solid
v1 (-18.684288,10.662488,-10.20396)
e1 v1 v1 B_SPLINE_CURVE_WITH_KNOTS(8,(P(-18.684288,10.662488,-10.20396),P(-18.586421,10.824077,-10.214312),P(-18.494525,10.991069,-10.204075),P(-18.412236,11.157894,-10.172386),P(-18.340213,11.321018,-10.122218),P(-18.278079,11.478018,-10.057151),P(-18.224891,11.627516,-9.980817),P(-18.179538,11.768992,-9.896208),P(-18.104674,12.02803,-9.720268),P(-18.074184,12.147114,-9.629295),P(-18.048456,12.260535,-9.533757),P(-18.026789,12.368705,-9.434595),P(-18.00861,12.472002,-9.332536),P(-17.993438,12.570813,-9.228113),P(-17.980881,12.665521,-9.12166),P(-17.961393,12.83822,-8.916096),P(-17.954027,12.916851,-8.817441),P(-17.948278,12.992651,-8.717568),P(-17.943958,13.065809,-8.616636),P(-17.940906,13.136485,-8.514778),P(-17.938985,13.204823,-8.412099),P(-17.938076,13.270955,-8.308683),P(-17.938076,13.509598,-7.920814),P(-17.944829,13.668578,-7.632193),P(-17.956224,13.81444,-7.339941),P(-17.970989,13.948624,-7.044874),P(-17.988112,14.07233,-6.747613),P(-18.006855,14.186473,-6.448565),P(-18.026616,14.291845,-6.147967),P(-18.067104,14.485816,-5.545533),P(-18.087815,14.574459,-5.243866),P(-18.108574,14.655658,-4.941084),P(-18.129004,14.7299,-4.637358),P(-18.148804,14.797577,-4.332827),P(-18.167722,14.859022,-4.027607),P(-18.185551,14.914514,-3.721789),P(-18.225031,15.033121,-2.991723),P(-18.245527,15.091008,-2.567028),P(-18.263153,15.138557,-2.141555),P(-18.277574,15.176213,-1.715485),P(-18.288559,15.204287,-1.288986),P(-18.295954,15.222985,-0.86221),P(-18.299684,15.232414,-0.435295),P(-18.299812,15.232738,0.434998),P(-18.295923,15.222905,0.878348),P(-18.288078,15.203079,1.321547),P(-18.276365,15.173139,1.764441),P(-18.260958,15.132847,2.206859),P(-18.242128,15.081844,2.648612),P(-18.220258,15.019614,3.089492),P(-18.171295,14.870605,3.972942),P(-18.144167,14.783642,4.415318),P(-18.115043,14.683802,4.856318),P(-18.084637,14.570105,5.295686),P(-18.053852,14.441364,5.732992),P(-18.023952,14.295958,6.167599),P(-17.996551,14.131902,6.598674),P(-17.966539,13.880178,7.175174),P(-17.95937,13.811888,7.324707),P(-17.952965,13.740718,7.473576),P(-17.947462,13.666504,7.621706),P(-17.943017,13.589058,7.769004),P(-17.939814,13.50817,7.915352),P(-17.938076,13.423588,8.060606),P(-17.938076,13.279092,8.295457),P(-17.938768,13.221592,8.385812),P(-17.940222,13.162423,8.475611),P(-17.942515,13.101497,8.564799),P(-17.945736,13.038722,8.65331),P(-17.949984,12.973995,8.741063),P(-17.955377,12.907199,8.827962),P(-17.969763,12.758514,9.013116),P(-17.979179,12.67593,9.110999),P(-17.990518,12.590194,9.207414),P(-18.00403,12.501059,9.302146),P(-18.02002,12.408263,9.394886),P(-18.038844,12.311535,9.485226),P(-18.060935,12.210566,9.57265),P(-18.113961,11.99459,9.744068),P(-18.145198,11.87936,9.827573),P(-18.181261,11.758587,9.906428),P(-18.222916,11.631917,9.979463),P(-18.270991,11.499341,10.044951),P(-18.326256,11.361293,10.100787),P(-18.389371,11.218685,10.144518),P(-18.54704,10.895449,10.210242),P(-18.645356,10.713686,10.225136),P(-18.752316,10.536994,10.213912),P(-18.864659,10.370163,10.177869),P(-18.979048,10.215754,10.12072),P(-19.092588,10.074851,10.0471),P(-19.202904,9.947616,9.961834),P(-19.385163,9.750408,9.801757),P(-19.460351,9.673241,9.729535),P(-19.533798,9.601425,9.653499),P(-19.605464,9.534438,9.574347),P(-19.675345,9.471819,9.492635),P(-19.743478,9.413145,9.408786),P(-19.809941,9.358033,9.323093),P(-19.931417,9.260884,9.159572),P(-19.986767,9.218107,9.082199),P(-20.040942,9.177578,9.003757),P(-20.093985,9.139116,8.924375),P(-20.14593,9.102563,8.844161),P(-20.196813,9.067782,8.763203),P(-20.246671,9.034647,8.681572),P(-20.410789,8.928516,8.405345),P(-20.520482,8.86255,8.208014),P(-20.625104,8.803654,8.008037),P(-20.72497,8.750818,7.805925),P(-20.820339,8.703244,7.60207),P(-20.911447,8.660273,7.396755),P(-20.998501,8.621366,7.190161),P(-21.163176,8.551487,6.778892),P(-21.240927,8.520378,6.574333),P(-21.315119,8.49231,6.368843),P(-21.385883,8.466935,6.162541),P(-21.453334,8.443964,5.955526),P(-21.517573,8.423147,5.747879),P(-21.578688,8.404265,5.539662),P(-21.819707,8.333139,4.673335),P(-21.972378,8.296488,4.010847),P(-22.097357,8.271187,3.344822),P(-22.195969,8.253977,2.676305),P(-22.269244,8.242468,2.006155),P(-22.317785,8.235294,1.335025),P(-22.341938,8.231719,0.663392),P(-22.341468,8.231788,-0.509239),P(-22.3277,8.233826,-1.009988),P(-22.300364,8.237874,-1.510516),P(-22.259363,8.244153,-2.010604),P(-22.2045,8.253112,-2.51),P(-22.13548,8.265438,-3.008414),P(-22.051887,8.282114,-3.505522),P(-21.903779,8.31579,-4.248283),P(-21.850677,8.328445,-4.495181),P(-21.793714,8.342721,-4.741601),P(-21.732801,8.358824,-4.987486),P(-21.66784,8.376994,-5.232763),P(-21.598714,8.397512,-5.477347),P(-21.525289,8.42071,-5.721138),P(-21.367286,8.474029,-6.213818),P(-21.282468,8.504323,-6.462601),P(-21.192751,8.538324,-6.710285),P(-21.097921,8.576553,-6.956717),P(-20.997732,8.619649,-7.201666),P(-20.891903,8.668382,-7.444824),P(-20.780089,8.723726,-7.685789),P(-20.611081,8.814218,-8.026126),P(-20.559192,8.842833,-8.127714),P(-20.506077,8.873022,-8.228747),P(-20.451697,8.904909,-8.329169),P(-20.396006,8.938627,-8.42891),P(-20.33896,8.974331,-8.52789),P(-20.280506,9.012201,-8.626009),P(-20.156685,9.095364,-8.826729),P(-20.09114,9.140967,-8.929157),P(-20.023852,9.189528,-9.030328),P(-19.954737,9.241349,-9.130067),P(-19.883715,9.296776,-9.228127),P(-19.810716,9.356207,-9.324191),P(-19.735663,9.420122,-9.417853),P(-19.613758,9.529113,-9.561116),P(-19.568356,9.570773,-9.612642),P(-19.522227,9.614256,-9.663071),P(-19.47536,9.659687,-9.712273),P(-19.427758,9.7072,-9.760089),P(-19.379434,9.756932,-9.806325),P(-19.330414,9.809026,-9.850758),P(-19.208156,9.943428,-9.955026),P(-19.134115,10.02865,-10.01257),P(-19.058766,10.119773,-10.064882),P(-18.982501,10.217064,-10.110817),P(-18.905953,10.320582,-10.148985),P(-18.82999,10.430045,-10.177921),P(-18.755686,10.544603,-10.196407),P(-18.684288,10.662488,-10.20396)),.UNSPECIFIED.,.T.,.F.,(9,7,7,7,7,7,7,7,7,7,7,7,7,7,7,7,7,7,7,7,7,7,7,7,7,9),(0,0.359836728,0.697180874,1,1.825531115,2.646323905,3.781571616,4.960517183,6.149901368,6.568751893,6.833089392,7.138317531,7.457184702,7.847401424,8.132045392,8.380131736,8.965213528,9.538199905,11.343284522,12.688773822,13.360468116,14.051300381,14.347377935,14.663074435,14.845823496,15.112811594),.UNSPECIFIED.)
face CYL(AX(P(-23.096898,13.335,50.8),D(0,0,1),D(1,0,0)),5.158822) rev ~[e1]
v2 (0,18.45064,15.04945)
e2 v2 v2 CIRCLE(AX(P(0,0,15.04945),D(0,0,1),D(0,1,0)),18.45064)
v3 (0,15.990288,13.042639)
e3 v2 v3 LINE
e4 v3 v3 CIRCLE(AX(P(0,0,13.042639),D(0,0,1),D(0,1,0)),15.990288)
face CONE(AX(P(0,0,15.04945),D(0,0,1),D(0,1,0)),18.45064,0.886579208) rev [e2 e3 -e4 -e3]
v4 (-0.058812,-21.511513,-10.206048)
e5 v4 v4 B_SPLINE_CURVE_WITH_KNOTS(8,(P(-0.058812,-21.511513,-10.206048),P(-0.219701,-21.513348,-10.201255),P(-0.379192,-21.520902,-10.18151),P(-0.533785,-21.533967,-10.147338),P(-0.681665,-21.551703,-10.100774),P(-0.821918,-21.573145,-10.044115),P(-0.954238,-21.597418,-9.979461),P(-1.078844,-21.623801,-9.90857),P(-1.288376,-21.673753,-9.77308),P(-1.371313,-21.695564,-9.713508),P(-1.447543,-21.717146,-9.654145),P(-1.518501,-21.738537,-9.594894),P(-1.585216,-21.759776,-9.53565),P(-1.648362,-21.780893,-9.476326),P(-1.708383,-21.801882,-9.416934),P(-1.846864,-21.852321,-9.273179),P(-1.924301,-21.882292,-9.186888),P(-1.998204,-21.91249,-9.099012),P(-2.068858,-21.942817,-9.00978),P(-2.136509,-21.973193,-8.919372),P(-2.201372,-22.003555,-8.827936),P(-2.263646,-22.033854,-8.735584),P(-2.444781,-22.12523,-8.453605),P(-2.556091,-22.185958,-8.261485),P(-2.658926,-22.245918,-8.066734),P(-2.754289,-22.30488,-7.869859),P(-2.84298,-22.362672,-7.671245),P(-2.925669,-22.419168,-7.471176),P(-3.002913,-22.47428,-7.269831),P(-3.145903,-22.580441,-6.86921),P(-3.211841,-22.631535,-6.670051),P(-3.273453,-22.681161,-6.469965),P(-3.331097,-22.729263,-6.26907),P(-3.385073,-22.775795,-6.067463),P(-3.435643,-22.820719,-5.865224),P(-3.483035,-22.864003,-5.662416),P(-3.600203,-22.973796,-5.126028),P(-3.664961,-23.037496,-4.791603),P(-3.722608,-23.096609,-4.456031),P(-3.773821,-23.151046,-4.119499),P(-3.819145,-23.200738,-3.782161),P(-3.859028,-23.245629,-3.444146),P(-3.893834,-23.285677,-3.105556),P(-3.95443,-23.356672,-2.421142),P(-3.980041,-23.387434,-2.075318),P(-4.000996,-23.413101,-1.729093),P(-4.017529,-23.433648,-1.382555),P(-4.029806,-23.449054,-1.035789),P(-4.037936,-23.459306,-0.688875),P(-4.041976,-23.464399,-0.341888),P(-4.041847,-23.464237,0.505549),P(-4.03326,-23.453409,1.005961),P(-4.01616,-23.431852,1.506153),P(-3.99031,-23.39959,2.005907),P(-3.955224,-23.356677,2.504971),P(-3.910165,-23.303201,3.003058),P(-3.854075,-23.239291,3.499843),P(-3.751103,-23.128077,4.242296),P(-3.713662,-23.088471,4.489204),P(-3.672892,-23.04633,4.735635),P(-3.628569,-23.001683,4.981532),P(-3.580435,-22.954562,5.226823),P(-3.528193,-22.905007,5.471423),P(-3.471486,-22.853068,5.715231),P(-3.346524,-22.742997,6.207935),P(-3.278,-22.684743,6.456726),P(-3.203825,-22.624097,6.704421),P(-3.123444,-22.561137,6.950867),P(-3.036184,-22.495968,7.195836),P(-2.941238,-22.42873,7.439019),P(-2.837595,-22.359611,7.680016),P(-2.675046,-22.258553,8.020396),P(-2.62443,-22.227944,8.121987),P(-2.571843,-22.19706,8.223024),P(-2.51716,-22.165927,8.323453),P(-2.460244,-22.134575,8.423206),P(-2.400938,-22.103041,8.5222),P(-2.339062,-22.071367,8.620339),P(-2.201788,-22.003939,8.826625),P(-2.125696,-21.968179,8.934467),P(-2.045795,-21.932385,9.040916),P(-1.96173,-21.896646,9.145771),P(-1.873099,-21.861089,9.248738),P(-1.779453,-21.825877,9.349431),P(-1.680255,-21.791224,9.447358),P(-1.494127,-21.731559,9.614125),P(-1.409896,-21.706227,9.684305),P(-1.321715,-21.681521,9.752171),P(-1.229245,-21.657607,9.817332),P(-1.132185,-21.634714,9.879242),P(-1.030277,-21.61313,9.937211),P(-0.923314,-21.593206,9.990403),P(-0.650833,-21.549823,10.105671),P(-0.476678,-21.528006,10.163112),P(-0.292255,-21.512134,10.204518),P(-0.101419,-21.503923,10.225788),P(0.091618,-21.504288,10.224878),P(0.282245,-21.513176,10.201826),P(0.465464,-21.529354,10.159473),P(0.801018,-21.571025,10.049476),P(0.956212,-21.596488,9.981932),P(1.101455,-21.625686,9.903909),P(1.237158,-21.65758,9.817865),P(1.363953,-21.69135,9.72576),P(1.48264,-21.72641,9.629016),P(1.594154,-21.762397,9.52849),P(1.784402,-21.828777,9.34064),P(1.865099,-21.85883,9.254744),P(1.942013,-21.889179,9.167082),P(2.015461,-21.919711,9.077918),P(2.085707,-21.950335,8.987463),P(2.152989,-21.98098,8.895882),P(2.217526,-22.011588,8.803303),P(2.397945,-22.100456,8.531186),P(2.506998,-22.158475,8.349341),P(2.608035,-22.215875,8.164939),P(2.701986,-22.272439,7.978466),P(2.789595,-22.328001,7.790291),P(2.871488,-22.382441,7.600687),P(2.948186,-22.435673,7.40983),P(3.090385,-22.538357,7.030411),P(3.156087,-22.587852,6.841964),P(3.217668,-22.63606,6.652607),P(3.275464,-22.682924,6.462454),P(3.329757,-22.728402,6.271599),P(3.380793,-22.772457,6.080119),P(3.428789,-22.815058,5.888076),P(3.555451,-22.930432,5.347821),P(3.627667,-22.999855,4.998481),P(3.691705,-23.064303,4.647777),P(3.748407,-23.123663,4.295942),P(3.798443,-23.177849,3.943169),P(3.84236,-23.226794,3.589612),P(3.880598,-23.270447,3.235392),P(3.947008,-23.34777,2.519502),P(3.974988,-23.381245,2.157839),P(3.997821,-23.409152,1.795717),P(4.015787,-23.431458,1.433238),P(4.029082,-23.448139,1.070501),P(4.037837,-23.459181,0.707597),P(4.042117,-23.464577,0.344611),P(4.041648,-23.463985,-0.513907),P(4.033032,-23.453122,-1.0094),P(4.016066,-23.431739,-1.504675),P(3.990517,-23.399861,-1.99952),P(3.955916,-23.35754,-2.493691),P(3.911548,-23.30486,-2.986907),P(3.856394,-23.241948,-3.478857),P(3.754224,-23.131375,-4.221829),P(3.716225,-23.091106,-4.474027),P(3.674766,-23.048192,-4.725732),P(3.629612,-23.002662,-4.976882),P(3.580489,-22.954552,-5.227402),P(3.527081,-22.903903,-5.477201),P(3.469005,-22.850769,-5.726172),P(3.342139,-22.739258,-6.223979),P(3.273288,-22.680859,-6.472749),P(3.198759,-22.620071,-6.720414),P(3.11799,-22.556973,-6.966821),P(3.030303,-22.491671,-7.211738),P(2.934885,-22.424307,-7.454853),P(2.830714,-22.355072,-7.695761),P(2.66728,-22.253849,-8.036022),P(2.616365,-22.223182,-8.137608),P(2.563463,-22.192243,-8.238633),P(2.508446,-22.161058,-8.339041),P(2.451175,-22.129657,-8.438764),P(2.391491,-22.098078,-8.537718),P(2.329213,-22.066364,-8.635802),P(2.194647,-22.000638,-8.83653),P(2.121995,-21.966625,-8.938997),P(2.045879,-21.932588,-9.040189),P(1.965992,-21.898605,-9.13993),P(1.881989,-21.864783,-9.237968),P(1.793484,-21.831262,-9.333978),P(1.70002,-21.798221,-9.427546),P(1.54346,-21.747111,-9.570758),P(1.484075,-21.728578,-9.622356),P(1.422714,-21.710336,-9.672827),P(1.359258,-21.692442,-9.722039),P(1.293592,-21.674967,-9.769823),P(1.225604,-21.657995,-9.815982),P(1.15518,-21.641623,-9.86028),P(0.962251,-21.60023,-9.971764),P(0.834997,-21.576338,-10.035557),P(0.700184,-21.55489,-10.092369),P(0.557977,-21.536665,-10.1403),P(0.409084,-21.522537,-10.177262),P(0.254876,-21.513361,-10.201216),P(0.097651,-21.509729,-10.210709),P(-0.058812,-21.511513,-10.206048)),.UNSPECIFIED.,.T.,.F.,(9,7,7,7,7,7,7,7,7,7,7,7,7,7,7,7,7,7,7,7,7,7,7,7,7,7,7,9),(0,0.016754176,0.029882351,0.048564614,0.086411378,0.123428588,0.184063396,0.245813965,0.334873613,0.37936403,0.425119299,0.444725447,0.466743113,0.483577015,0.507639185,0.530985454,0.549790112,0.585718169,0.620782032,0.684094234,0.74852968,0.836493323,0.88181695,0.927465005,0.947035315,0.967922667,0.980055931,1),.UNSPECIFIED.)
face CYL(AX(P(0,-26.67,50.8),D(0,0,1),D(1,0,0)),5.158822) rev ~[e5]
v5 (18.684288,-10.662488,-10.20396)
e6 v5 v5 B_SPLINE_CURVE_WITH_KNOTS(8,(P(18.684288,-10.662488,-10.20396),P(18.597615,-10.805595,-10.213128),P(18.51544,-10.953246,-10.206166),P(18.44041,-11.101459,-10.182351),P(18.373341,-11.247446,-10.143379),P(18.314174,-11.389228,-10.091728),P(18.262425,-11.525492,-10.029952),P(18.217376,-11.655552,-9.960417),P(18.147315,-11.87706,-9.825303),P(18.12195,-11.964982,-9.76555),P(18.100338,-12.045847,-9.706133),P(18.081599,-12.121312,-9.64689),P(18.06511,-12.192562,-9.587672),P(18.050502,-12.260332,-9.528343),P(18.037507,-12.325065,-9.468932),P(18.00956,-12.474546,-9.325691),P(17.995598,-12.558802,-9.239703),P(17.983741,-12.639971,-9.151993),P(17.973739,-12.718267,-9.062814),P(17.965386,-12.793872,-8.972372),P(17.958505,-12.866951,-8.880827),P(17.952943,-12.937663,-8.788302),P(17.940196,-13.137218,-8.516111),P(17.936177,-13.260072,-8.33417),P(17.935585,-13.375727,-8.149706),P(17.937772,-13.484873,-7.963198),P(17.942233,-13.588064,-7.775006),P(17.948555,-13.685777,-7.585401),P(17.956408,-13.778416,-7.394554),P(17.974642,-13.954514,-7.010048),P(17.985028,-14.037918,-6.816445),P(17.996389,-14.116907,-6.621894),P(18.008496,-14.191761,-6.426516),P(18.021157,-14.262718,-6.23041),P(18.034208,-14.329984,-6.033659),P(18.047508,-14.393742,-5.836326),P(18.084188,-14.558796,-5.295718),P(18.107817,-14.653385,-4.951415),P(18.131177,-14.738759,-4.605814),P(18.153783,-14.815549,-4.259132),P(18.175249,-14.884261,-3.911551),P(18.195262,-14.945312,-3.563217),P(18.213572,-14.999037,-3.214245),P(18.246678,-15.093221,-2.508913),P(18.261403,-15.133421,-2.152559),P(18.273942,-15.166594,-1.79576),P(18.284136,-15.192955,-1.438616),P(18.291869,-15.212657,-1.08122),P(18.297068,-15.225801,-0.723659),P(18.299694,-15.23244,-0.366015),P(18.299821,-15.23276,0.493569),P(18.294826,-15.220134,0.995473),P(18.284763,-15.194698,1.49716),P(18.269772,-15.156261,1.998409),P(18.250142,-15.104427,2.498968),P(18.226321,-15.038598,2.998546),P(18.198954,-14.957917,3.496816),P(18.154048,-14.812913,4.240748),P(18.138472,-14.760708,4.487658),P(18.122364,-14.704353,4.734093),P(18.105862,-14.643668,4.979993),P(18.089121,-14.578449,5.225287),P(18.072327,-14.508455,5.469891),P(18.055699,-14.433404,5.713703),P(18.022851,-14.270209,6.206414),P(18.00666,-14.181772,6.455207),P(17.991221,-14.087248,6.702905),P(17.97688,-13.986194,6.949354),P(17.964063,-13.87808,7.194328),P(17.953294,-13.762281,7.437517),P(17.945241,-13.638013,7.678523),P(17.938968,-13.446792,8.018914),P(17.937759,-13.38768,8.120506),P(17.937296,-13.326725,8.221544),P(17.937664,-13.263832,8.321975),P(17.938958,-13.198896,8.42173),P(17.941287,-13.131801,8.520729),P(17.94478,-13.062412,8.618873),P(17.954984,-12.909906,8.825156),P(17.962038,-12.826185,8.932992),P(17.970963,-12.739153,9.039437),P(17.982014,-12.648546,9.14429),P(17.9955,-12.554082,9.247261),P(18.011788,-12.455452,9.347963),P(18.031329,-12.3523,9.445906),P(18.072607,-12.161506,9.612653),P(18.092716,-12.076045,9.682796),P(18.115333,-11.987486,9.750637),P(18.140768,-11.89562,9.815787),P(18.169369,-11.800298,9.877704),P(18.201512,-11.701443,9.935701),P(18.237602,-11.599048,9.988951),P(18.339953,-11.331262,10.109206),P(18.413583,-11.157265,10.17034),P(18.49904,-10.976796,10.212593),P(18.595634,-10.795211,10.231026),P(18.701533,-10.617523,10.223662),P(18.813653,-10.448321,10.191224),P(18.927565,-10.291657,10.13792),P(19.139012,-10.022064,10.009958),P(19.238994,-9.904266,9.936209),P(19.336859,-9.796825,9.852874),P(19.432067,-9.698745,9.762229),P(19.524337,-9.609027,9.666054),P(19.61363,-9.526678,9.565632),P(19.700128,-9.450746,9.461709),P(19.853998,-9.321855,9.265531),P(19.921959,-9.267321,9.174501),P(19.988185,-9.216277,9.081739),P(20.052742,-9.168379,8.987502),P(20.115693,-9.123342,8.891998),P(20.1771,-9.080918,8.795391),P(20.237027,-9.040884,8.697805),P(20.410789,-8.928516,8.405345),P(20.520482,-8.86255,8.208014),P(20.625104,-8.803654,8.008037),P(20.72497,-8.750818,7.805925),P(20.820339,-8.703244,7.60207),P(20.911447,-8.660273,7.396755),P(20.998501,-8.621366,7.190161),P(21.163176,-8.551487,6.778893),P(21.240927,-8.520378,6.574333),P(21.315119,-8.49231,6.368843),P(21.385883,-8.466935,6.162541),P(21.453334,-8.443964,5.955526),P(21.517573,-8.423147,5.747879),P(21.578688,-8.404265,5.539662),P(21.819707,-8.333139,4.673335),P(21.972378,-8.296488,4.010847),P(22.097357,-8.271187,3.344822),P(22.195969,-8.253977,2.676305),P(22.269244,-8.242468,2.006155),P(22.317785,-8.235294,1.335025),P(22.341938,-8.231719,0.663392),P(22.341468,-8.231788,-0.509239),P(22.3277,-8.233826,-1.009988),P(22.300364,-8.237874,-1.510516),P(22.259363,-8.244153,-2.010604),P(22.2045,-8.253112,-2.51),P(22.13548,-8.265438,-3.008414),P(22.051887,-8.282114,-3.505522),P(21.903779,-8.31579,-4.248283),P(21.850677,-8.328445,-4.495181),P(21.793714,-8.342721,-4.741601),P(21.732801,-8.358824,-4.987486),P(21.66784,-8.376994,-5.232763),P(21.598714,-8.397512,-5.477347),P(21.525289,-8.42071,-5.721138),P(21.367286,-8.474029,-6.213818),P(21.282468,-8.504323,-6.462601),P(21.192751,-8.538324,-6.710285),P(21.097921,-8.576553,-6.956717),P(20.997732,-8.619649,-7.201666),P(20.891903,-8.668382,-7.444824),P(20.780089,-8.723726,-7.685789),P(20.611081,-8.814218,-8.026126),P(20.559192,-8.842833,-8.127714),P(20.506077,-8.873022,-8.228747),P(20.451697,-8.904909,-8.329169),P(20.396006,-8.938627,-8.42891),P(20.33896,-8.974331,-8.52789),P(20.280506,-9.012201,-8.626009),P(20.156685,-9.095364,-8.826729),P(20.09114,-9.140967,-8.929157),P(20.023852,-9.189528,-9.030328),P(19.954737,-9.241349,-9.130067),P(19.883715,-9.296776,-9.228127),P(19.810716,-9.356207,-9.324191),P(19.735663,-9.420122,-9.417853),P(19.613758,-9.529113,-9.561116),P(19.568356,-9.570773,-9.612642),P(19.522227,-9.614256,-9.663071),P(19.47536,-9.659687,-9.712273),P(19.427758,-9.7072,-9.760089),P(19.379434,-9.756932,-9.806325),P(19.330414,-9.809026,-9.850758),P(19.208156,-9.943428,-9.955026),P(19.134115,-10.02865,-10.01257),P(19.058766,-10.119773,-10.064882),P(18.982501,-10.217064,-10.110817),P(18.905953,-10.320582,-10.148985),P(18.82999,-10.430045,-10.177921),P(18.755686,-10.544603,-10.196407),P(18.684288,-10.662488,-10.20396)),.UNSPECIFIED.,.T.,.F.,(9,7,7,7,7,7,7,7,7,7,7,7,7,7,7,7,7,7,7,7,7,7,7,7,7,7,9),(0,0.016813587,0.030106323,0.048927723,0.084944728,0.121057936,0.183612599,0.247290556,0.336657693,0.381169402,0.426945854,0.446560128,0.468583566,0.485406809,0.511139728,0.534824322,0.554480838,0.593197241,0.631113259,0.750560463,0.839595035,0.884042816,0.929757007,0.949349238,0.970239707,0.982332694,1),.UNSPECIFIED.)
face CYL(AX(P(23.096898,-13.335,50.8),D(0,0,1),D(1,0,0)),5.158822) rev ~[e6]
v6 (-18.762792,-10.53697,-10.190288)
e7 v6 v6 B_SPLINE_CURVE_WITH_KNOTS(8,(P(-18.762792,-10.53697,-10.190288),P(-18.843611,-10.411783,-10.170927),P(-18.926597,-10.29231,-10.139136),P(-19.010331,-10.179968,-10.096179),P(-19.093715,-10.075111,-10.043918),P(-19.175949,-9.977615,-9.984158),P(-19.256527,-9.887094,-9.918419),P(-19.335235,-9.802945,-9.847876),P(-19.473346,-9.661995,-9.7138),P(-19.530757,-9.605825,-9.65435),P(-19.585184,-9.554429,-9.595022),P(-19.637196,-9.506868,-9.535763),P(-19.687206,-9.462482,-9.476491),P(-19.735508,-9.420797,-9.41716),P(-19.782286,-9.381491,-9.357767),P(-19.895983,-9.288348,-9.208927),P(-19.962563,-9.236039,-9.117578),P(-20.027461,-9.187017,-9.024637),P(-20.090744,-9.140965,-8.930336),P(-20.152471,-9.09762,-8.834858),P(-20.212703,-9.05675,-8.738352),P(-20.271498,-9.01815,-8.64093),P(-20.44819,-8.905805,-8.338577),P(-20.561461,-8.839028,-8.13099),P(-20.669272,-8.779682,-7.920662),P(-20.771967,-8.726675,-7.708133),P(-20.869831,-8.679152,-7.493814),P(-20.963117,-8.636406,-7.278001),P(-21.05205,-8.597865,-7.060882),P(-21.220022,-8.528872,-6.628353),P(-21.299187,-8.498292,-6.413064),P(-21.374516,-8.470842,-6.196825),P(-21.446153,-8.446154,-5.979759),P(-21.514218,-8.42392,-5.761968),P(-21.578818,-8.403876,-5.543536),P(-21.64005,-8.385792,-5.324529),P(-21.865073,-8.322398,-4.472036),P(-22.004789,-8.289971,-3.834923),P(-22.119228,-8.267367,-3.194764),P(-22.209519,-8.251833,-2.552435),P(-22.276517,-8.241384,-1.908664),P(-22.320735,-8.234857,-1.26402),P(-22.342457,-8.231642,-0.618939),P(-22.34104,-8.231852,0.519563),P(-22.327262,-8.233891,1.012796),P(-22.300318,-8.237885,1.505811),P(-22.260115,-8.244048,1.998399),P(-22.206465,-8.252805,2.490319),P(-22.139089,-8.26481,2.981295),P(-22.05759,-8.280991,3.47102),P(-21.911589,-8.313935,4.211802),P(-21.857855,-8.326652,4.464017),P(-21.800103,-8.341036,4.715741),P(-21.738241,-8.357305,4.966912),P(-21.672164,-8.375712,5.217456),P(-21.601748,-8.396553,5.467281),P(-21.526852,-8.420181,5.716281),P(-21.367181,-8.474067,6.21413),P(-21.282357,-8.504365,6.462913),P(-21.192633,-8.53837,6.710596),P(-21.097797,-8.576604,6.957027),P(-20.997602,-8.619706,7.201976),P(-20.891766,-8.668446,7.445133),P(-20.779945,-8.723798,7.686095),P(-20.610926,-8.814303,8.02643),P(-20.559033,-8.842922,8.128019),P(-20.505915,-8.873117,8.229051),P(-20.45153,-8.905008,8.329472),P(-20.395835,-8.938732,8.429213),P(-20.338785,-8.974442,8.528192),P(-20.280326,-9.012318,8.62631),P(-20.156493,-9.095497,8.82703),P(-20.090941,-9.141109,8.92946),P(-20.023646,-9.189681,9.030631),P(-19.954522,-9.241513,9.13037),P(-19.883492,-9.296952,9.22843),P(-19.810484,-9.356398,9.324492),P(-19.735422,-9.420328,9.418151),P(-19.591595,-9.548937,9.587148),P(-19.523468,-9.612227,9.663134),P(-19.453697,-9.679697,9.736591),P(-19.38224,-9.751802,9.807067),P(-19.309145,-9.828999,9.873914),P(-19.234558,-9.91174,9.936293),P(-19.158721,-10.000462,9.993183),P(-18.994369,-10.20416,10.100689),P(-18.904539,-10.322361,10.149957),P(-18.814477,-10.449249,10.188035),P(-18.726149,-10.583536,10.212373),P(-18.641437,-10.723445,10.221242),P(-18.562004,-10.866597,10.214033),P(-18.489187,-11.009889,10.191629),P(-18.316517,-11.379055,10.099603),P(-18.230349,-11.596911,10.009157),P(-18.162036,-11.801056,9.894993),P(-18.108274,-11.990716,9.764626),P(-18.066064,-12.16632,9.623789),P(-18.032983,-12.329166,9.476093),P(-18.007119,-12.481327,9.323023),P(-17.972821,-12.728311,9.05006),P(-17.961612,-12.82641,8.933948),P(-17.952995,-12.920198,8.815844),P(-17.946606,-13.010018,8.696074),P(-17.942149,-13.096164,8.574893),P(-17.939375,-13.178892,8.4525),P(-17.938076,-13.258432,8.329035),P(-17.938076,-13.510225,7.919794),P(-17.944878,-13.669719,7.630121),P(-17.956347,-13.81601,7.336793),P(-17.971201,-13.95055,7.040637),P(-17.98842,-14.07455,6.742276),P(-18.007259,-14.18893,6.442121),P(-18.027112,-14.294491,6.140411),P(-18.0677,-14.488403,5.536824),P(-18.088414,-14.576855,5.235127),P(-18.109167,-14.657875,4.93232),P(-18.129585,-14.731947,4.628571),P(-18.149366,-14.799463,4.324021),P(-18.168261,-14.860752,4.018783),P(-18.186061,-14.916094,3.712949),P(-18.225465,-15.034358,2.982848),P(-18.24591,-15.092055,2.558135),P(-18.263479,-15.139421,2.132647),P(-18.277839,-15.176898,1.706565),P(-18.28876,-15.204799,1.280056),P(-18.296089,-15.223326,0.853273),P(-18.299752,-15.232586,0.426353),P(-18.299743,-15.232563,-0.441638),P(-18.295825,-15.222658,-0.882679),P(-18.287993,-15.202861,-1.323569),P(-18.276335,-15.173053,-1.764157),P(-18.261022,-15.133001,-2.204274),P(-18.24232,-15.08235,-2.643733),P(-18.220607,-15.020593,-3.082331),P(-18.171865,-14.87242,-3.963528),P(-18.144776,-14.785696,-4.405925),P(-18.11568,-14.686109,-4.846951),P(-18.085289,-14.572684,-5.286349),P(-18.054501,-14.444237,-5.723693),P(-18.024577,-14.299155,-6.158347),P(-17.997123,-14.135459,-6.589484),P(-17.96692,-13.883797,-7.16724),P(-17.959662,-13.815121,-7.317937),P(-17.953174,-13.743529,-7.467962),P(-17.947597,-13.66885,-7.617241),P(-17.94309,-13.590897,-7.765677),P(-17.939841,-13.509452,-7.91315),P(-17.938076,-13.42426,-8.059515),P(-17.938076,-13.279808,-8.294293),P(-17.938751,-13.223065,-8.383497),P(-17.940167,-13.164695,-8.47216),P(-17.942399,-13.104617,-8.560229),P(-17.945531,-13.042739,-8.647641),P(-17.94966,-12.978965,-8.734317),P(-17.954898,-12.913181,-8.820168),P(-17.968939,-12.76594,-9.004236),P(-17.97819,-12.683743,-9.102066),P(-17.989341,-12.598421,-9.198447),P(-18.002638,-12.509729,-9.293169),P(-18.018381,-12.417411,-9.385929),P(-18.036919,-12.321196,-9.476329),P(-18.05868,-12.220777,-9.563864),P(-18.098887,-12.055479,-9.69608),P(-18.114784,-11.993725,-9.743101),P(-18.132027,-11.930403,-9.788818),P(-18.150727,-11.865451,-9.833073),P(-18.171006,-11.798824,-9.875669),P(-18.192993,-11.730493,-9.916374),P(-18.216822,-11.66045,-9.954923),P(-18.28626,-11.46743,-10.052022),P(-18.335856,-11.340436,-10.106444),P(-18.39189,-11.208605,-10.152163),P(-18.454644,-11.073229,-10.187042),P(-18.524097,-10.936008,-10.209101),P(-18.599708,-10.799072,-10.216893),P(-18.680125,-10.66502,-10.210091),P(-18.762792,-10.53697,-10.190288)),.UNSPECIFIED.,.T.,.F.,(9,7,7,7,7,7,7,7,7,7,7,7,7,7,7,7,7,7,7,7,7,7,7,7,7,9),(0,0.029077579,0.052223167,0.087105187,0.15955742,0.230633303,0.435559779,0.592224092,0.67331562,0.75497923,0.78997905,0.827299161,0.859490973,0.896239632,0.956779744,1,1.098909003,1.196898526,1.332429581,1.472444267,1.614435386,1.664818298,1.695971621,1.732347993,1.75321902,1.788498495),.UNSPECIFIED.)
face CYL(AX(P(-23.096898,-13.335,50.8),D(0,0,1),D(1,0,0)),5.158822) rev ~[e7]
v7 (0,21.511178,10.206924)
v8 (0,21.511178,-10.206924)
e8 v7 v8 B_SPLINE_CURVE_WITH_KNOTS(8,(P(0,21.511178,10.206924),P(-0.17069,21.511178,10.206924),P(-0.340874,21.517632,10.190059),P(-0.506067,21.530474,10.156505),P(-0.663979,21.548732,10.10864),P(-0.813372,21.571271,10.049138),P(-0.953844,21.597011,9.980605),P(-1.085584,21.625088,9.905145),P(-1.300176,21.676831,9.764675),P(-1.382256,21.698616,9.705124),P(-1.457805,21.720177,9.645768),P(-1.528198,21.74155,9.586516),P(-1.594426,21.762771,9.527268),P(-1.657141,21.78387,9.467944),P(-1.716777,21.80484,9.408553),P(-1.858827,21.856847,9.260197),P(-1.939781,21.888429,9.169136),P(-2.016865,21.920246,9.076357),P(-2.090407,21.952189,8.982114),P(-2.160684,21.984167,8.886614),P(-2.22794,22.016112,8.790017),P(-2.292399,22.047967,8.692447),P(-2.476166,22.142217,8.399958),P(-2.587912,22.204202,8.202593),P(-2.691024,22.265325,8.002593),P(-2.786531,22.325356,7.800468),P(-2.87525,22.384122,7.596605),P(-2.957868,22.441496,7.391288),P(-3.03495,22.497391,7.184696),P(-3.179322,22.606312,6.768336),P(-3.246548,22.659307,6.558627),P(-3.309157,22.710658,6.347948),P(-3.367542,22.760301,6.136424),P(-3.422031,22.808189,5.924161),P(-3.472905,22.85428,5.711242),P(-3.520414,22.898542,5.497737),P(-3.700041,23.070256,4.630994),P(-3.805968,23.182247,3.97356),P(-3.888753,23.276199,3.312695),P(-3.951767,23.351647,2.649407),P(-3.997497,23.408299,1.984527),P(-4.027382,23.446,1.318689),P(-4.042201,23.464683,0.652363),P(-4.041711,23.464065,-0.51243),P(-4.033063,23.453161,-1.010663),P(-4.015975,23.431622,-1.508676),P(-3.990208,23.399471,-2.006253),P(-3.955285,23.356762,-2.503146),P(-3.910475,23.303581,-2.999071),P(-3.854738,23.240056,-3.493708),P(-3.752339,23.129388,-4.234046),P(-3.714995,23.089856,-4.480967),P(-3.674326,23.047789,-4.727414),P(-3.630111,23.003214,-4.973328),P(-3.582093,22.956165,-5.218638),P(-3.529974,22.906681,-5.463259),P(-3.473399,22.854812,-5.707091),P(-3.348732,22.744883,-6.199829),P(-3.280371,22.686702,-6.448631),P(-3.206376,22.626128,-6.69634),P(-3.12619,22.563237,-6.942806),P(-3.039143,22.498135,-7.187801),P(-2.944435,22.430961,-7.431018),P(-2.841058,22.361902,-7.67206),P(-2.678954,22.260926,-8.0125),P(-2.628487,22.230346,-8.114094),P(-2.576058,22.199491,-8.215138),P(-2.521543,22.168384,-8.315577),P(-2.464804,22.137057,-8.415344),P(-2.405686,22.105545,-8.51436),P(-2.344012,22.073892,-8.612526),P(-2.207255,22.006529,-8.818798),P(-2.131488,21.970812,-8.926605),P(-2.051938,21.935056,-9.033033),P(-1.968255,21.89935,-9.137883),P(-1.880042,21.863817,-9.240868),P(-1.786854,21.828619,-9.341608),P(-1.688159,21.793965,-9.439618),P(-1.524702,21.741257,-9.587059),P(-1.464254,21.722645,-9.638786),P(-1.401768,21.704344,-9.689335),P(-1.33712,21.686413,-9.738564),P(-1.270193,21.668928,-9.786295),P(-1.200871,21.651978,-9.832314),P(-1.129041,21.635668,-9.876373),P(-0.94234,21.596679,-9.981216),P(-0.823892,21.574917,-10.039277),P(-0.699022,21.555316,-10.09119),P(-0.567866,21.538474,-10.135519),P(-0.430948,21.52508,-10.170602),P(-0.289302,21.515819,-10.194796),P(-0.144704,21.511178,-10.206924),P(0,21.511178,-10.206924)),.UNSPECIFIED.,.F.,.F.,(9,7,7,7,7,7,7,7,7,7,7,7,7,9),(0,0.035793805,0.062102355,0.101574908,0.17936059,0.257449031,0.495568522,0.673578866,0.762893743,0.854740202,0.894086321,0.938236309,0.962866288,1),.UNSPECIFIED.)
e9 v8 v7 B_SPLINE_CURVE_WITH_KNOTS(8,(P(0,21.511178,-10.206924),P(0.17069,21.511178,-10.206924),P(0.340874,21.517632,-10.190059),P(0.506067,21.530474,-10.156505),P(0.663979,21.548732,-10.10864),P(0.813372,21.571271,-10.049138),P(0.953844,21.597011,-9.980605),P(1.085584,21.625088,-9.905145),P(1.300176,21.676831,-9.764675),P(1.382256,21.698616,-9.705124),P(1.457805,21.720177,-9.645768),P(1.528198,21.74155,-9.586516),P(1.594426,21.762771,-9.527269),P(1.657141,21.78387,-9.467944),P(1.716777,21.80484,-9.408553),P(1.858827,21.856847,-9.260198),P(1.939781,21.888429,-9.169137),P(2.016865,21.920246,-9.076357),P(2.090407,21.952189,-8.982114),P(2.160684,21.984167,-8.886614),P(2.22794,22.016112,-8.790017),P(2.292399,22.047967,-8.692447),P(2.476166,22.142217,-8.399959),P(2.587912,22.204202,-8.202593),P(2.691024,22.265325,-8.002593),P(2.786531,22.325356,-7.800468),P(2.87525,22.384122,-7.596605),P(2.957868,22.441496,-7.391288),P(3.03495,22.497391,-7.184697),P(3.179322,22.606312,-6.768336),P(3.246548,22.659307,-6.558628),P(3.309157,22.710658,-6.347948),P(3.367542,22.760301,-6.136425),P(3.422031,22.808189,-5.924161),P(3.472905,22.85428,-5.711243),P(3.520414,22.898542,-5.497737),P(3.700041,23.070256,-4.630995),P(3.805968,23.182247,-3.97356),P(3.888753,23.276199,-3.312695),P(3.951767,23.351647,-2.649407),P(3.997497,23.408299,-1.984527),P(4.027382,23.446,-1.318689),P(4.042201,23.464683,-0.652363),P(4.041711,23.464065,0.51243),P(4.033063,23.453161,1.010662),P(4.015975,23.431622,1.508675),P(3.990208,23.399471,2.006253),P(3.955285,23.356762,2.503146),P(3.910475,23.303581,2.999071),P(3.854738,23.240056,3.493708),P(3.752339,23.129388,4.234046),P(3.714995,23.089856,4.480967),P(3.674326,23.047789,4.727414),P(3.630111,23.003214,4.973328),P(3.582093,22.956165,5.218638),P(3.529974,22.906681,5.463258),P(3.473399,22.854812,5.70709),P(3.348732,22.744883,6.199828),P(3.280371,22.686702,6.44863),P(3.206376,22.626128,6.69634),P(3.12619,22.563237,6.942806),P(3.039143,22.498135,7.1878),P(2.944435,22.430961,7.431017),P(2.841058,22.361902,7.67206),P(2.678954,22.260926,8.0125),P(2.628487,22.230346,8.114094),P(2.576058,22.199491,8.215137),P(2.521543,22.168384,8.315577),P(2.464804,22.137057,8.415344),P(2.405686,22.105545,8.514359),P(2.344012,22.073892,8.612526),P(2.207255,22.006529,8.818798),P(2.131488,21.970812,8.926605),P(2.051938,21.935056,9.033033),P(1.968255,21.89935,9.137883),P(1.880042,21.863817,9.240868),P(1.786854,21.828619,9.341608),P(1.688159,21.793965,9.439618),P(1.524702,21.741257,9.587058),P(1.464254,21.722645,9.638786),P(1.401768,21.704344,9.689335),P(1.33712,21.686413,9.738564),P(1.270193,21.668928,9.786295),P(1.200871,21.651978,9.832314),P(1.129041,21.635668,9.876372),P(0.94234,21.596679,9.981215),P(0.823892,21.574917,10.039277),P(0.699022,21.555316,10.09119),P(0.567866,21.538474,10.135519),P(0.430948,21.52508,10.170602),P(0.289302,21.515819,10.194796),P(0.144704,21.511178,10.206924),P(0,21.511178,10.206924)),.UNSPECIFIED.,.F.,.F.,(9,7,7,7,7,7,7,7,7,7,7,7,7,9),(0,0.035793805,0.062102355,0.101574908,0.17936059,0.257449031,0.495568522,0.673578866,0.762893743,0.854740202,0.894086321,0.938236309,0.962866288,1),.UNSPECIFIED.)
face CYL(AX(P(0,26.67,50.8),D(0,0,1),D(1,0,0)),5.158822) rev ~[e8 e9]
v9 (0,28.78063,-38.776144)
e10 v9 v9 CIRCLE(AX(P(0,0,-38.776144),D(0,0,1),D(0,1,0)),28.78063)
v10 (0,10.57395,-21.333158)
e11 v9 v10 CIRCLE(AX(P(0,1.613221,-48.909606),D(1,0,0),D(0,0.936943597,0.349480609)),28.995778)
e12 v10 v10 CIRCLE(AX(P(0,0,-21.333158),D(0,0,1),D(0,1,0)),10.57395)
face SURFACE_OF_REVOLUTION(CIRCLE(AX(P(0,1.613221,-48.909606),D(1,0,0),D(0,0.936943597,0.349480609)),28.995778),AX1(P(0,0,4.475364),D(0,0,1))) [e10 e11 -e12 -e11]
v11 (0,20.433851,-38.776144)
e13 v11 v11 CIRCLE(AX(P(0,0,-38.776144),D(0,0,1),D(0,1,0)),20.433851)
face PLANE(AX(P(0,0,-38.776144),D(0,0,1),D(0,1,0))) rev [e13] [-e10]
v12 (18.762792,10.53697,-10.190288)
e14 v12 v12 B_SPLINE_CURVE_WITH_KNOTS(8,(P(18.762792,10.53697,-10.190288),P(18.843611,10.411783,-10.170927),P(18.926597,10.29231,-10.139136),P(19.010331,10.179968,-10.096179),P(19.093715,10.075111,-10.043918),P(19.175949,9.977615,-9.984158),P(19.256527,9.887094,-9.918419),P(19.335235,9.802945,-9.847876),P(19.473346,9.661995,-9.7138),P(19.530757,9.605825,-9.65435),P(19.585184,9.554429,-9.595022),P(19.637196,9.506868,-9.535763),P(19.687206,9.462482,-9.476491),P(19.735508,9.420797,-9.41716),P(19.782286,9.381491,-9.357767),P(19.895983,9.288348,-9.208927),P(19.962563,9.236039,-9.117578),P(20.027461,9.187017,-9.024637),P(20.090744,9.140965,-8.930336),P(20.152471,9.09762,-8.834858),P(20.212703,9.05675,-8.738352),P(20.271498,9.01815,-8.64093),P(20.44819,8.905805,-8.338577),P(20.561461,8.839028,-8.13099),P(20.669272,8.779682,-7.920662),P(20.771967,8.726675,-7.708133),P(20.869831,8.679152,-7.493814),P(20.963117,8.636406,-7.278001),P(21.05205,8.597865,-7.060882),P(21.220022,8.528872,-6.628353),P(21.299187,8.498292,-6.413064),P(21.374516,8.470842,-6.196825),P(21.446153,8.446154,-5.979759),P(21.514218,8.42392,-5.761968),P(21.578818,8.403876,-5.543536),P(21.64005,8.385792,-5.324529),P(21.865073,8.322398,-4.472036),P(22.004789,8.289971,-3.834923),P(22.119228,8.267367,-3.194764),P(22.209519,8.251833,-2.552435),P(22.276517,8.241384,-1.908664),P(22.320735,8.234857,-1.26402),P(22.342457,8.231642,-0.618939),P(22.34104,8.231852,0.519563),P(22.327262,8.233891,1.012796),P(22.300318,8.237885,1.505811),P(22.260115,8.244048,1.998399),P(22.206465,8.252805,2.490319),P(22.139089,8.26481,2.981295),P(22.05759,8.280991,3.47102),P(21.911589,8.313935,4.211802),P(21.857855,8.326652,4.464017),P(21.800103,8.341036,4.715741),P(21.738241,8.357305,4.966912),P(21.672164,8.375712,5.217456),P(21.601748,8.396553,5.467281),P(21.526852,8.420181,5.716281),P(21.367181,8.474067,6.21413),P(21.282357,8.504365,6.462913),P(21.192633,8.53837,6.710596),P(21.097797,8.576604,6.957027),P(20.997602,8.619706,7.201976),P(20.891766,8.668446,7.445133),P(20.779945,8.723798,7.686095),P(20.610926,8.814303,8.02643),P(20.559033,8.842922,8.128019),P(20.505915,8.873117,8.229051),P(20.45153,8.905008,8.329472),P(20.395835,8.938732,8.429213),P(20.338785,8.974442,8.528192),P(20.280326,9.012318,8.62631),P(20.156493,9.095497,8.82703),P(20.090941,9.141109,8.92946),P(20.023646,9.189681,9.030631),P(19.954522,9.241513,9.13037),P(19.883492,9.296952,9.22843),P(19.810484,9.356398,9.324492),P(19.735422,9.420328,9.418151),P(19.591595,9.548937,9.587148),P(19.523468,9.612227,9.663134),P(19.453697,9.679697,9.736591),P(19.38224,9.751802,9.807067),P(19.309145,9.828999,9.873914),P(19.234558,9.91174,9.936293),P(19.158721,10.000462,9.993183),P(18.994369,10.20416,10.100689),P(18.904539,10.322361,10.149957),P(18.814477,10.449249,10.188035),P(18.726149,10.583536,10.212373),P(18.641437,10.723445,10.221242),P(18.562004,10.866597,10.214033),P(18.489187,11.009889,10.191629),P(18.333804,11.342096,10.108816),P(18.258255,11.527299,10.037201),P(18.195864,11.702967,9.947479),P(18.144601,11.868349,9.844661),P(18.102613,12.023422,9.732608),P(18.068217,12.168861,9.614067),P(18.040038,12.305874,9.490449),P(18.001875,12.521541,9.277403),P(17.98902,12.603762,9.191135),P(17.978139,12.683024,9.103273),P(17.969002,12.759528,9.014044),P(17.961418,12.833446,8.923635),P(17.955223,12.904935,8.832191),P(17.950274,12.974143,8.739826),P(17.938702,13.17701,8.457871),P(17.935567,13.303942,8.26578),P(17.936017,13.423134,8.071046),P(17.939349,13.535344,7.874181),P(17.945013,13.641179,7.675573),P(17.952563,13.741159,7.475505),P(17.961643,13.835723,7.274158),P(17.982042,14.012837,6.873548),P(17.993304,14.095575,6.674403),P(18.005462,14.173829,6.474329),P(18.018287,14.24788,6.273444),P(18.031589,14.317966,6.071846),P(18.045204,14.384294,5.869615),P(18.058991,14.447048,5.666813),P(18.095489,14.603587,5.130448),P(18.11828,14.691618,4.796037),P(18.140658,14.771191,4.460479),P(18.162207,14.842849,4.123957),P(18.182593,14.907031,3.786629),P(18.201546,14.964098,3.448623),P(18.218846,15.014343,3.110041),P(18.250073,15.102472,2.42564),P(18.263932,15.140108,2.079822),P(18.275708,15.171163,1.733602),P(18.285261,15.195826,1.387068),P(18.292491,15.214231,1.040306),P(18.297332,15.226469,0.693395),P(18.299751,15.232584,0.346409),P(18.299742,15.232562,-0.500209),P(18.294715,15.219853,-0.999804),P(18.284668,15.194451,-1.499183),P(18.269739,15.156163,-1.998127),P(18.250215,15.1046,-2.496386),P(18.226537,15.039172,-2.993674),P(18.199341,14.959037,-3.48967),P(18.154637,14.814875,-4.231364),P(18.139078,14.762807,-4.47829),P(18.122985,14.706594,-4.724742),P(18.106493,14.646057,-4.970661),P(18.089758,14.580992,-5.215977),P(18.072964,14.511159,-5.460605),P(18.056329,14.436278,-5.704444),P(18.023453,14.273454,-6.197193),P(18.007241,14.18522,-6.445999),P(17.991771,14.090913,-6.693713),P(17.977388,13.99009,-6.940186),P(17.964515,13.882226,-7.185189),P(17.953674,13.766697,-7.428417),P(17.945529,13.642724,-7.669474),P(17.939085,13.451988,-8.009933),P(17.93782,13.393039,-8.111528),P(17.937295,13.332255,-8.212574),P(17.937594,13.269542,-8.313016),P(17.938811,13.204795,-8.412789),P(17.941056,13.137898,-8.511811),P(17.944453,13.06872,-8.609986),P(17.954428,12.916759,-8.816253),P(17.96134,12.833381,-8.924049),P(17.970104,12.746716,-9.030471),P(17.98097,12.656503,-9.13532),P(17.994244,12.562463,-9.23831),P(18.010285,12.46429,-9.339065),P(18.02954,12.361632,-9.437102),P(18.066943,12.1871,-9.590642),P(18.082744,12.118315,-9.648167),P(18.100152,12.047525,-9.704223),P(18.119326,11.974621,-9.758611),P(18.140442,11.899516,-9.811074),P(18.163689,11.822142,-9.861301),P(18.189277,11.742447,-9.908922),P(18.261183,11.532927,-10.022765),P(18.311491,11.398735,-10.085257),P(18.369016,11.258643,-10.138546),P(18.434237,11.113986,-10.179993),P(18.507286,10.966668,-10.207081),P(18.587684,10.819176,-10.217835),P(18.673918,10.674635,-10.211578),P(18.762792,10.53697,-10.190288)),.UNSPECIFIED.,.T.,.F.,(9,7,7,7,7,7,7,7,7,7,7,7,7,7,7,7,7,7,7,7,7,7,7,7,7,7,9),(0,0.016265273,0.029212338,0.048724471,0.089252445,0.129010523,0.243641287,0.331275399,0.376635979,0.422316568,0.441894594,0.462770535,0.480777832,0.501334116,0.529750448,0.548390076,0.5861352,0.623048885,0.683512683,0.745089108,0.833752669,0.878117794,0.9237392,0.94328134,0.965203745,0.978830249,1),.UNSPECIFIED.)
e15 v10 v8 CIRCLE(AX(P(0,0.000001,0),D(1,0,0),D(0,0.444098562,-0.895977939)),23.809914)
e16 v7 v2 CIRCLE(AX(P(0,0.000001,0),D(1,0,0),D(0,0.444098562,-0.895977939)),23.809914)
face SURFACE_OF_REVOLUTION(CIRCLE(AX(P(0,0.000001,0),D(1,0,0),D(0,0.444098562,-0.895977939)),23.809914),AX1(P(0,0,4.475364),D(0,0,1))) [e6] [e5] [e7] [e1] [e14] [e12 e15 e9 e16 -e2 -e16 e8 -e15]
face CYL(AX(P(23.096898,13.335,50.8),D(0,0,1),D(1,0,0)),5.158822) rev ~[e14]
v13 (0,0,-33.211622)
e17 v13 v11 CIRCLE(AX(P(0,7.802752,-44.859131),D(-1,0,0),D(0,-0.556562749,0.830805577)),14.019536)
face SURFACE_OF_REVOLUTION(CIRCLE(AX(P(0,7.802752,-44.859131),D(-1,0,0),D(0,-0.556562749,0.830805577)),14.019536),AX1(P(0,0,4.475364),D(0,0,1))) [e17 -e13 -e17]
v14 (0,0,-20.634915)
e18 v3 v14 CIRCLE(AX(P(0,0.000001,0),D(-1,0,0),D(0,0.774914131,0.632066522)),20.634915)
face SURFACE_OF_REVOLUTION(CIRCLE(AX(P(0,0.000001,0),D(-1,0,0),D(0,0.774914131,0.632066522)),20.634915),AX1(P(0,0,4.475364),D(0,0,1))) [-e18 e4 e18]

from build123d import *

# Parameters (mm, degrees)
F3_R     = 5.158822
F4_DEPTH = 63.5


with BuildPart() as f1:
    # F0 (on Right) → F1 (revolve)
    with BuildSketch(Plane.YZ):
        with BuildLine():
            Line((0, -20.634915), (0, -23.809915))
            ThreePointArc((0, -23.809915), (5.430073, -23.182458), (10.57395, -21.333158))
            ThreePointArc((10.57395, -21.333158), (23.270803, -5.038036), (18.45064, 15.04945))
            Line((18.45064, 15.04945), (15.990288, 13.042639))
            ThreePointArc((15.990288, 13.042639), (18.64046, -8.850593), (0, -20.634915))
        make_face()
        with BuildLine():
            ThreePointArc((10.57395, -21.333158), (5.430073, -23.182458), (0, -23.809915))
            Line((0, -23.809915), (0, -33.211622))
            ThreePointArc((0, -33.211622), (11.486393, -31.332188), (20.433851, -38.776144))
            Line((20.433851, -38.776144), (28.78063, -38.776144))
            ThreePointArc((28.78063, -38.776144), (21.672509, -27.972077), (10.57395, -21.333158))
        make_face()
    revolve(axis=Axis((0, 0, 4.475364), (0, 0, 1)))

    # F3 (on offset) → F4 (cut)
    with BuildSketch(Plane.XY.offset(50.8)):
        with Locations((0, 26.67)):
            Circle(F3_R)
        with Locations((-23.096898, 13.335)):
            Circle(F3_R)
        with Locations((-23.096898, -13.335)):
            Circle(F3_R)
        with Locations((23.096898, -13.335)):
            Circle(F3_R)
        with Locations((23.096898, 13.335)):
            Circle(F3_R)
        with Locations((0, -26.67)):
            Circle(F3_R)
    extrude(amount=-F4_DEPTH, mode=Mode.SUBTRACT)


solid = f1.part
